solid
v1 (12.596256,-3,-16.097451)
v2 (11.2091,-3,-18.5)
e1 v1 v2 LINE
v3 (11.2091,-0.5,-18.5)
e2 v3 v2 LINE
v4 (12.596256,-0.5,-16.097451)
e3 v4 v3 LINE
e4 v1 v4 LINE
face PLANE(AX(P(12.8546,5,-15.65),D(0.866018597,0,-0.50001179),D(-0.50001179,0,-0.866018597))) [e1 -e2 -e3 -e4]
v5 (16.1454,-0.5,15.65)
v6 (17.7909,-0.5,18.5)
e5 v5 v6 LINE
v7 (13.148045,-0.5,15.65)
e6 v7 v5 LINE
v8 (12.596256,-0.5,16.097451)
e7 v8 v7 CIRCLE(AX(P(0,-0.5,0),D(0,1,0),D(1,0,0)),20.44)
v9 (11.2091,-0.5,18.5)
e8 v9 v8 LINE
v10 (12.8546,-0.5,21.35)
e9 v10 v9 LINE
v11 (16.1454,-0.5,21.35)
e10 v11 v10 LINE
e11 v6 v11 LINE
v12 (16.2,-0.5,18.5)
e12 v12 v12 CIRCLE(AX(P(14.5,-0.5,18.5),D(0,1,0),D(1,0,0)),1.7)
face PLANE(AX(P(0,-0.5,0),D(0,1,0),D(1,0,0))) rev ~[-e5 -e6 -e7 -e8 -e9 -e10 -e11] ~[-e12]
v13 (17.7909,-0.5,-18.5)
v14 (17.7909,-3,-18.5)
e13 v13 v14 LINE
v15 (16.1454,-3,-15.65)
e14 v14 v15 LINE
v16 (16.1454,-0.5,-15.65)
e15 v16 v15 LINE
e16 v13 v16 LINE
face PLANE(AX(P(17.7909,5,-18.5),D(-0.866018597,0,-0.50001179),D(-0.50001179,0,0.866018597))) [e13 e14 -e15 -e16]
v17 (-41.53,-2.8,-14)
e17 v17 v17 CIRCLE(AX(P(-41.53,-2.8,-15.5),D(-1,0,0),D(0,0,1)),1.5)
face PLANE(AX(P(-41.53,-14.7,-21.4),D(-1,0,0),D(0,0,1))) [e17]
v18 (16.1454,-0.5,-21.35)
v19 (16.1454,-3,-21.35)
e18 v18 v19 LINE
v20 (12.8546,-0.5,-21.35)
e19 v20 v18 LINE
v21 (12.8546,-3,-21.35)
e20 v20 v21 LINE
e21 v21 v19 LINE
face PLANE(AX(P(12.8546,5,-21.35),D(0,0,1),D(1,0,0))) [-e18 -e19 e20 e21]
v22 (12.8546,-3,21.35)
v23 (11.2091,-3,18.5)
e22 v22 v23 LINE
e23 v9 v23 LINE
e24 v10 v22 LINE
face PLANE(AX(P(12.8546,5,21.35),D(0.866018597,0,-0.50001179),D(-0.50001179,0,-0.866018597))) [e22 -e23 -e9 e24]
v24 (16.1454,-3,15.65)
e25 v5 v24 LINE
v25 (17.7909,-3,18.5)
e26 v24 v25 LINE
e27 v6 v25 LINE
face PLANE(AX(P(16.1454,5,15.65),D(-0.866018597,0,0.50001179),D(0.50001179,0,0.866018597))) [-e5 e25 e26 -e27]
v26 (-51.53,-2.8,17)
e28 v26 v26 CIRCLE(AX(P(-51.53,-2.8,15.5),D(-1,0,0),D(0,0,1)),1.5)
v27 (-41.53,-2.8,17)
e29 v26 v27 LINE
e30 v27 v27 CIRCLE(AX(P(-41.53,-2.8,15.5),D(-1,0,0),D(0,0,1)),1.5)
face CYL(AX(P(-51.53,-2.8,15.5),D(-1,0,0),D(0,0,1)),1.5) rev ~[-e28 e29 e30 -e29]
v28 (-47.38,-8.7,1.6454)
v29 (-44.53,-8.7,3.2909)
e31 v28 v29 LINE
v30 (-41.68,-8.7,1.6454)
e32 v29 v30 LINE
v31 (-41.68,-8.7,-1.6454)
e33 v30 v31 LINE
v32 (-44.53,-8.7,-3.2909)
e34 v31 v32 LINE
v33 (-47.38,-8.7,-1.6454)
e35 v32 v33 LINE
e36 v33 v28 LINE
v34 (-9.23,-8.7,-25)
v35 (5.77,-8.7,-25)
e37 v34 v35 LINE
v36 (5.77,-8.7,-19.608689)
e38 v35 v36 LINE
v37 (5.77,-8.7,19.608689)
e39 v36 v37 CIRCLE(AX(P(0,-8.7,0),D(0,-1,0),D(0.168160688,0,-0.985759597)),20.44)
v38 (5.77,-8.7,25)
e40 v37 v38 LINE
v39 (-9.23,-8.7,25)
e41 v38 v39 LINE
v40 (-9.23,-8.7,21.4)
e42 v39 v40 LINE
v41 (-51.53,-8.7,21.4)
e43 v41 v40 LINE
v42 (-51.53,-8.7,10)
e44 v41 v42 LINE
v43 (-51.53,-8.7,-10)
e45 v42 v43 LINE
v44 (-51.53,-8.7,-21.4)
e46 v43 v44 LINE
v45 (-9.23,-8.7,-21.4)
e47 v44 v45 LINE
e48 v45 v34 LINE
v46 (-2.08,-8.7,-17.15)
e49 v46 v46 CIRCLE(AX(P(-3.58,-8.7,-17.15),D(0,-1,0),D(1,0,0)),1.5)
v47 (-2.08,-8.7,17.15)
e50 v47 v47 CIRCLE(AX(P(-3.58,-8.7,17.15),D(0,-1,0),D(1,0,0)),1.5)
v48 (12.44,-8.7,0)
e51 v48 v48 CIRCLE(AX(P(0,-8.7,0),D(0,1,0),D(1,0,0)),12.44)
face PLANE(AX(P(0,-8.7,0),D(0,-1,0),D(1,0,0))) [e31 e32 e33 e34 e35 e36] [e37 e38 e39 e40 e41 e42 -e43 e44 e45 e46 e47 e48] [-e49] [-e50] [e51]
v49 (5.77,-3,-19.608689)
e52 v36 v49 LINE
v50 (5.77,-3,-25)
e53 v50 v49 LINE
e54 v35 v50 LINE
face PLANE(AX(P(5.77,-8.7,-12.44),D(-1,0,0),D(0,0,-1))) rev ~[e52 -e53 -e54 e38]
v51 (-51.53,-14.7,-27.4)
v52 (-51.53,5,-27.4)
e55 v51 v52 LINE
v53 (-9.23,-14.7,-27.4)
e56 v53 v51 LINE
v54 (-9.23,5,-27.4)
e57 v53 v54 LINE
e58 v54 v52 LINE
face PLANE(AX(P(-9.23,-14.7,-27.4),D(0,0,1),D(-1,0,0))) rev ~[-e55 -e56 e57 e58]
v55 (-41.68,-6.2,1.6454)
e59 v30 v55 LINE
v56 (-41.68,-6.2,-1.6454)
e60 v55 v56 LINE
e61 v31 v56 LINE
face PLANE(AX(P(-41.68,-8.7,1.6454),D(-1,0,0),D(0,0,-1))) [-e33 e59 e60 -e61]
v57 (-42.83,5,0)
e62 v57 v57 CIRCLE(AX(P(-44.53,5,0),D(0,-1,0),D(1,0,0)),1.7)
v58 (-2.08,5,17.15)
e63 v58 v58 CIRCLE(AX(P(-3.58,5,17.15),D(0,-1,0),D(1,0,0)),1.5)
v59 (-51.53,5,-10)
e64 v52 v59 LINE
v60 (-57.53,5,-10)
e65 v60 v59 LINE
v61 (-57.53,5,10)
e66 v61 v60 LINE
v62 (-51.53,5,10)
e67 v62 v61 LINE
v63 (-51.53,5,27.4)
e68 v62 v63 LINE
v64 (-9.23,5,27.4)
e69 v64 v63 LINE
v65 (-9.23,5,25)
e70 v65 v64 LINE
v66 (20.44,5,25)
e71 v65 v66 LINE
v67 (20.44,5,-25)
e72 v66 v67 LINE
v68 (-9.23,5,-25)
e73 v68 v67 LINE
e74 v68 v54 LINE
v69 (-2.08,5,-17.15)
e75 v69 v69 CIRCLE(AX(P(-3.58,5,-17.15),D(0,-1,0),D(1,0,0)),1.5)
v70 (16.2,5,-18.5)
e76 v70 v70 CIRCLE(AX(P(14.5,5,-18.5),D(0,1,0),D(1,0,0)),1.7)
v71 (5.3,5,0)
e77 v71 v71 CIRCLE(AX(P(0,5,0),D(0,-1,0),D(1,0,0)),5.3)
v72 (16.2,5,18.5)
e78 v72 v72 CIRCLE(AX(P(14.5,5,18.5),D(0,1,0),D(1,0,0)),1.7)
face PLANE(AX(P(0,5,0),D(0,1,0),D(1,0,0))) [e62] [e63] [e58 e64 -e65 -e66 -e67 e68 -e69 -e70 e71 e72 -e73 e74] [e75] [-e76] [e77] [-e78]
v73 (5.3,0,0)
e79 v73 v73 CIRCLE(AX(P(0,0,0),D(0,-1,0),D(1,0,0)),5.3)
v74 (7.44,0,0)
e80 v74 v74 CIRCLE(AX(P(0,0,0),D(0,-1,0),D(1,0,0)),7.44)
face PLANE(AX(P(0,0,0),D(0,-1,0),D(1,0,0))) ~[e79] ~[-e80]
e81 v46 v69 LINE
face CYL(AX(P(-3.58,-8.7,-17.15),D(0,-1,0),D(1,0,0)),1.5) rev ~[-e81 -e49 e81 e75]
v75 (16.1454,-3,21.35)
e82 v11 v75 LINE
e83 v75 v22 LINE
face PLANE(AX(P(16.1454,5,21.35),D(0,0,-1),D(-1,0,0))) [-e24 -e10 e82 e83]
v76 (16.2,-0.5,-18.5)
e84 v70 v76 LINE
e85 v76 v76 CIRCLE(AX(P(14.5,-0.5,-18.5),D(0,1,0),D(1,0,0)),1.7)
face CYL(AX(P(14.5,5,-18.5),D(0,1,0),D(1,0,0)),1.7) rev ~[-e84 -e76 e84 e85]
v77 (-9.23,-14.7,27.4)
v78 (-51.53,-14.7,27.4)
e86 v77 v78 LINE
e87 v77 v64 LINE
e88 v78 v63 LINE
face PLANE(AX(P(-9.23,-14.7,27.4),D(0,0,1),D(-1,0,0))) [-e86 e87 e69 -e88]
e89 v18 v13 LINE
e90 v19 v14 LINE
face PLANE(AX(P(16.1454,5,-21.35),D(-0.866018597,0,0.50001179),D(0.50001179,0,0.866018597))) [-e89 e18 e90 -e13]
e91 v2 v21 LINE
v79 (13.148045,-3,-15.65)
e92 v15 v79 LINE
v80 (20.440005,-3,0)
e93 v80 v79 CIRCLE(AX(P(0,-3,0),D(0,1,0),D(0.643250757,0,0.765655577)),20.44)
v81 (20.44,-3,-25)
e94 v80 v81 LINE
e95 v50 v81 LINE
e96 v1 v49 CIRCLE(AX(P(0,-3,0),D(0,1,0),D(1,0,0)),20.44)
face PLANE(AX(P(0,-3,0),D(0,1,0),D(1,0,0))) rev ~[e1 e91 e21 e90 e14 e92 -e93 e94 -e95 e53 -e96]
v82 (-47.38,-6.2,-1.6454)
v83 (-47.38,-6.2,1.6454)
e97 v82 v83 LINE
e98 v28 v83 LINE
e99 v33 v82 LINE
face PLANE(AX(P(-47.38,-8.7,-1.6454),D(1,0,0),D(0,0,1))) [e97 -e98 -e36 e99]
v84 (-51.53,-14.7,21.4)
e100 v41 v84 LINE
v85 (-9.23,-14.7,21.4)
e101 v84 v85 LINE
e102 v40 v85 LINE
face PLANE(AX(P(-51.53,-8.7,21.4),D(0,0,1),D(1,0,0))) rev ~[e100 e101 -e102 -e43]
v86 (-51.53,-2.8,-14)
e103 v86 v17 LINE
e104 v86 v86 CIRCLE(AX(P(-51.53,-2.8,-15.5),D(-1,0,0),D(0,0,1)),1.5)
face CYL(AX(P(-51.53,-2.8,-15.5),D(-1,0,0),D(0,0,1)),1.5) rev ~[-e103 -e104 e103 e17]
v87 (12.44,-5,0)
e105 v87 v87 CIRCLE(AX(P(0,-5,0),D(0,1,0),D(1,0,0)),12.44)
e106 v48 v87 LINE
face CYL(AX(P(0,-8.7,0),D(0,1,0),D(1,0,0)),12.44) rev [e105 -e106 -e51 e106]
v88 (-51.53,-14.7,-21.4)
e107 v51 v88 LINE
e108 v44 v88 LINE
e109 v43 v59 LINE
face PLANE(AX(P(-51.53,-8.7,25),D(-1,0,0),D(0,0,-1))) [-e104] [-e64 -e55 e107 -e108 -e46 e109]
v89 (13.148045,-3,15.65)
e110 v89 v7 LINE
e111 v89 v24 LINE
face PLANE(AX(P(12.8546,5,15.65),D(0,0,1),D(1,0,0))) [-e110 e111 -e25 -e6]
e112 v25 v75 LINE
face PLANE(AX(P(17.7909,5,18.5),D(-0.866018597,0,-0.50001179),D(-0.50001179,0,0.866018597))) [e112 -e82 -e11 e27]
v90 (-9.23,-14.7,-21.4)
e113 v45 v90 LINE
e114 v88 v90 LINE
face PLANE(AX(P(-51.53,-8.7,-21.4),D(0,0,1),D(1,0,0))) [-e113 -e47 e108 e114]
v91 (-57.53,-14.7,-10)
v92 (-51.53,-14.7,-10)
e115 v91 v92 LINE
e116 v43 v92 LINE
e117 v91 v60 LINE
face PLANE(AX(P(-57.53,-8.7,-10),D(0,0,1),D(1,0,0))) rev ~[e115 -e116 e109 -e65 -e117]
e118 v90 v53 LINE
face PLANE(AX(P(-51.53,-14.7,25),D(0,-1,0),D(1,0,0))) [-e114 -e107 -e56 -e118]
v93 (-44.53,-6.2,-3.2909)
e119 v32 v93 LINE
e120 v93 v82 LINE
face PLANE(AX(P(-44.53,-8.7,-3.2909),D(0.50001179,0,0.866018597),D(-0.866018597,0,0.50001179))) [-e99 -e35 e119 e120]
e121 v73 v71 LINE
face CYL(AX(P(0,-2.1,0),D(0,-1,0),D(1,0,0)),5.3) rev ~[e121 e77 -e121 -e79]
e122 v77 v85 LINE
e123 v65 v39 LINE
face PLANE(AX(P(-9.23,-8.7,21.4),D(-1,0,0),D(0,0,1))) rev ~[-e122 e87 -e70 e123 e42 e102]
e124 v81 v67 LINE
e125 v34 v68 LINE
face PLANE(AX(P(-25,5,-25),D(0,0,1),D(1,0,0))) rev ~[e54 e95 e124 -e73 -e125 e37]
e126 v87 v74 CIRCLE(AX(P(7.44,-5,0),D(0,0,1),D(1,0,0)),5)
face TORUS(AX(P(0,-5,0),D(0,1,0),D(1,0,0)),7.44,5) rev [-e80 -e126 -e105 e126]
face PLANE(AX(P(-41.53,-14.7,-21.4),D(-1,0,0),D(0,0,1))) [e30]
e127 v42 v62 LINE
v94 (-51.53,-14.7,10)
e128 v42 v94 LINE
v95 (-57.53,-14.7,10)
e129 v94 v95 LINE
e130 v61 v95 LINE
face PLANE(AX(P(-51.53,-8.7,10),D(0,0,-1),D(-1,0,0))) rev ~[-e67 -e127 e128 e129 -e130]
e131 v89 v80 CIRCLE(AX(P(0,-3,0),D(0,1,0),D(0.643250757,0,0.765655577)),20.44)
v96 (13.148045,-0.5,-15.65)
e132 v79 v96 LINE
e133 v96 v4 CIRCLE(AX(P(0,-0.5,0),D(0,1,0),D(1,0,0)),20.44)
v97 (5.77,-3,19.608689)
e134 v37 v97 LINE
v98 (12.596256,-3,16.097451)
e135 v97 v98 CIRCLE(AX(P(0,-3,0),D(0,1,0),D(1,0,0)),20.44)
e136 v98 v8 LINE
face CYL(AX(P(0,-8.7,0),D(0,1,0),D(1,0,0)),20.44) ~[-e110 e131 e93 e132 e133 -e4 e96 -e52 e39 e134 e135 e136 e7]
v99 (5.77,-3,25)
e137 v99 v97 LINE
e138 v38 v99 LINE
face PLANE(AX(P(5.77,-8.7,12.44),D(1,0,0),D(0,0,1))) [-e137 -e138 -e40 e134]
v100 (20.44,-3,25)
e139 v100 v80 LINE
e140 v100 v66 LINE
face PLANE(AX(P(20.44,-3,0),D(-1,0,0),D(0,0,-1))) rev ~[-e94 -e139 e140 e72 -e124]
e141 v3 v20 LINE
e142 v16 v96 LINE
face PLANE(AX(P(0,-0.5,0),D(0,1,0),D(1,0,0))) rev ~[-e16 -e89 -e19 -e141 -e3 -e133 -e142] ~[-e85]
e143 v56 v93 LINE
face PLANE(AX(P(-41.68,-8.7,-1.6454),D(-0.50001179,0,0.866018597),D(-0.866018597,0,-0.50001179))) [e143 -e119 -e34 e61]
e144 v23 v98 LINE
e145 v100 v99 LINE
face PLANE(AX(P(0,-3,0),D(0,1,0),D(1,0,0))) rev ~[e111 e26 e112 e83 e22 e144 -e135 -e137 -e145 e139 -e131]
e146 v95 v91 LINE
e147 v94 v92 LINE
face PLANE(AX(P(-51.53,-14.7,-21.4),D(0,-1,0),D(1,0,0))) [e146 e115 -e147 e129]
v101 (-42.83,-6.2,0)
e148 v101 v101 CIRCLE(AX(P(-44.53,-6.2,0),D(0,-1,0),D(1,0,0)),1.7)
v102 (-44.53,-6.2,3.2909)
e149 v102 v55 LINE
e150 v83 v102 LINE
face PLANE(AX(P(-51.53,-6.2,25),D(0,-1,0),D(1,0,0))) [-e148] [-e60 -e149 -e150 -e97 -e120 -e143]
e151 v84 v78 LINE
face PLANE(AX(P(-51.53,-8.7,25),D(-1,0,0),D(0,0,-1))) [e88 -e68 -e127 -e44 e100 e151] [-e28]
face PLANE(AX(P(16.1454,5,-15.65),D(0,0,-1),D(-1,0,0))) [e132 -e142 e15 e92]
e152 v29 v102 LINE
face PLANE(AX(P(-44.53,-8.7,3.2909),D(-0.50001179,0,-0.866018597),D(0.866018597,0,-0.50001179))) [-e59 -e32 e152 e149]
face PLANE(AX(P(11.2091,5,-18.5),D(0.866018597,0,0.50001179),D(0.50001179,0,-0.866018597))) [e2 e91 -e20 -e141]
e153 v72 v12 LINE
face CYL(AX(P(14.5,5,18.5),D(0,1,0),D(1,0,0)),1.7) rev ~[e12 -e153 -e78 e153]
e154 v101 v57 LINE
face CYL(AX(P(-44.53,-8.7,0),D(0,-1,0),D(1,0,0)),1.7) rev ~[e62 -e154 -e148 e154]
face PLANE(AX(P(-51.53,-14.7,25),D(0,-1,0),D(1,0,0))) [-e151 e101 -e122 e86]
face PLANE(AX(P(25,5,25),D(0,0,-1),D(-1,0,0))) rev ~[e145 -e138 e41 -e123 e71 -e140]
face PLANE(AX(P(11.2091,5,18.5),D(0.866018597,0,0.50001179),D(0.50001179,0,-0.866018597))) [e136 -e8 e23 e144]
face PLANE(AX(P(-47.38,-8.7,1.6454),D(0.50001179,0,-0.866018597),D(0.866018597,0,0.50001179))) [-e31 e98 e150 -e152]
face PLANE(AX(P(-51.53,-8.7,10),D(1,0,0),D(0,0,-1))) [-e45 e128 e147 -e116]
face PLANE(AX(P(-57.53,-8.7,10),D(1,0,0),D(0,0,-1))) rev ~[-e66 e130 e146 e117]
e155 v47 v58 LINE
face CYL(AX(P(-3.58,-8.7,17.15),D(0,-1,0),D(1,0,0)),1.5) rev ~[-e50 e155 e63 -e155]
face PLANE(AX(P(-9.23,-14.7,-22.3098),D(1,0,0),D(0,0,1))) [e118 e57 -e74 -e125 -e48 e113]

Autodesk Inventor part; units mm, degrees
ref_plane "YZ Plane" through (0, 0, 0) normal (1, 0, 0) x (0, 1, 0)
ref_plane "XZ Plane" through (0, 0, 0) normal (0, 1, 0) x (-1, 0, 0)
ref_plane "XY Plane" through (0, 0, 0) normal (0, 0, 1) x (1, 0, 0)
sketch "Sketch1" plane through (0, 0, 0) normal (0, 0, 1) x (1, 0, 0)
  line L0 (0, -8.6) -> (12.34, -8.6) construction
  line L1 (0, 0) -> (0, -8.6)
  line L2 (0, 0) -> (0, -2.1)
  line L3 (0, -2.1) -> (5.3, -2.1)
  line L4 (5.3, -2.1) -> (5.3, 0)
  line L5 (5.3, 0) -> (7.44, 0)
  line L6 (12.44, -8.7) -> (12.44, -5)
  arc A0 (12.44, -5) -> (7.44, 0) centre (7.44, -5) ccw
  line L7 (12.44, -8.7) -> (20.44, -8.7)
  line L8 (20.44, -8.7) -> (20.44, 5)
  line L9 (20.44, 5) -> (0, 5)
  line L10 (0, 5) -> (0, -2.1)
  line L11 (-4.088, 0) -> (24.528, 0) projected
  dimension "d2" = 12.34
  dimension "d3" = 8.6
  dimension "d7" = 0
  dimension "d11" = 5.3
  dimension "d12" = 2.1
  dimension "d14" = 5
  dimension "d15" = 8
  dimension "d16" = 13.7
  dimension "d17" = 3.7
  dimension "d18" = 5
revolve "Revolution2" add sketch "Sketch1" angle 360 about axis through (0, 5, 0) along (0, -1, 0)
sketch "Sketch2" plane through (0, 5, 0) normal (0, 1, 0) x (1, 0, 0)
  line L0 (-25, 25) -> (25, 25)
  line L1 (25, 25) -> (25, -25)
  line L2 (25, -25) -> (-25, -25)
  line L3 (-25, -25) -> (-25, 25)
  line L4 (-18.5, 18.5) -> (14.5, 18.5) construction
  line L5 (14.5, 18.5) -> (14.5, -18.5) construction
  line L6 (14.5, -18.5) -> (-18.5, -18.5) construction
  line L7 (-18.5, -18.5) -> (-18.5, 18.5) construction
  circle A0 centre (-18.5, 18.5) radius 1.7
  circle A1 centre (14.5, 18.5) radius 1.7
  circle A2 centre (-18.5, -18.5) radius 1.7
  circle A3 centre (14.5, -18.5) radius 1.7
  line L8 (12.8546, 21.35) -> (16.1454, 21.35)
  line L9 (16.1454, 21.35) -> (17.7909, 18.5)
  line L10 (17.7909, 18.5) -> (16.1454, 15.65)
  line L11 (16.1454, 15.65) -> (12.8546, 15.65)
  line L12 (12.8546, 15.65) -> (11.2091, 18.5)
  line L13 (11.2091, 18.5) -> (12.8546, 21.35)
  line L14 (-17.6058, 15.3329) -> (-20.7956, 16.142)
  line L15 (-20.7956, 16.142) -> (-21.6899, 19.3091)
  line L16 (-21.6899, 19.3091) -> (-19.3942, 21.6671)
  line L17 (-19.3942, 21.6671) -> (-16.2044, 20.858)
  line L18 (-16.2044, 20.858) -> (-15.3101, 17.6909)
  line L19 (-15.3101, 17.6909) -> (-17.6058, 15.3329)
  line L20 (-16.0239, -20.6677) -> (-19.1393, -21.7282)
  line L21 (-19.1393, -21.7282) -> (-21.6153, -19.5605)
  line L22 (-21.6153, -19.5605) -> (-20.9761, -16.3323)
  line L23 (-20.9761, -16.3323) -> (-17.8607, -15.2718)
  line L24 (-17.8607, -15.2718) -> (-15.3847, -17.4395)
  line L25 (-15.3847, -17.4395) -> (-16.0239, -20.6677)
  line L26 (17.7909, -18.5) -> (16.1454, -21.35)
  line L27 (16.1454, -21.35) -> (12.8546, -21.35)
  line L28 (12.8546, -21.35) -> (11.2091, -18.5)
  line L29 (11.2091, -18.5) -> (12.8546, -15.65)
  line L30 (12.8546, -15.65) -> (16.1454, -15.65)
  line L31 (16.1454, -15.65) -> (17.7909, -18.5)
  circle A4 centre (0, 0) radius 12.44 projected
  circle A5 centre (0, 0) radius 12.44 projected
  dimension "d25" = 33
  dimension "d27" = 18.5
  dimension "d28" = 18.5
  dimension "d29" = 37
  dimension "d30" = 3.4
  dimension "d31" = 3.4
  dimension "d32" = 3.4
  dimension "d33" = 3.4
  dimension "d34" = 5.7
  dimension "d36" = 5.7
  dimension "d37" = 5.7
  dimension "d38" = 5.7
  dimension "d39" = 50
  dimension "d40" = 50
  dimension "d41" = 25
  dimension "d42" = 25
extrude "Extrusion1" add sketch "Sketch2" against normal blind 8 contours L0 L1 L2 L3
extrude "Extrusion2" add sketch "Sketch2" against normal blind 5.5 contours L8 L9 L10 L11 L12 L13 | L14 L15 L16 L17 L18 L19 | L20 L21 L22 L23 L24 L25 | L26 L27 L28 L29 L30 L31
sketch "Sketch4" plane through (0, -2.1, 0) normal (0, -1, 0) x (1, 0, 0)
  circle A0 centre (0, 0) radius 5.3 projected
  point P0 (0, 0)
extrude "Extrusion4" cut sketch "Sketch4" against normal blind 19.5
sketch "Sketch5" plane through (0, -8.7, 0) normal (0, -1, 0) x (1, 0, 0)
  circle A0 centre (0, 0) radius 20.44 projected
  circle A1 centre (0, 0) radius 12.44 projected
  line L0 (-25, -25) -> (25, -25) projected
  line L1 (25, -25) -> (25, 25) projected
  line L2 (25, 25) -> (-25, 25) projected
  line L3 (-25, 25) -> (-25, -25) projected
  line L4 (12.8546, -21.35) -> (11.2091, -18.5) projected
  line L5 (11.2091, -18.5) -> (12.5962, -16.0975) projected
  line L6 (16.1454, -15.65) -> (17.7909, -18.5) projected
  line L7 (17.7909, -18.5) -> (16.1454, -21.35) projected
  line L8 (16.1454, -21.35) -> (12.8546, -21.35) projected
  line L9 (-15.3101, -17.6909) -> (-16.2044, -20.858) projected
  line L10 (-16.2044, -20.858) -> (-19.3942, -21.6671) projected
  line L11 (-19.3942, -21.6671) -> (-21.6899, -19.3091) projected
  line L12 (-21.6899, -19.3091) -> (-20.7956, -16.142) projected
  line L13 (-20.7956, -16.142) -> (-17.6058, -15.3329) projected
  line L14 (-16.0239, 20.6677) -> (-15.3847, 17.4395) projected
  line L15 (-17.8607, 15.2718) -> (-20.9761, 16.3323) projected
  line L16 (-20.9761, 16.3323) -> (-21.6153, 19.5605) projected
  line L17 (-21.6153, 19.5605) -> (-19.1393, 21.7282) projected
  line L18 (-19.1393, 21.7282) -> (-16.0239, 20.6677) projected
  line L19 (17.7909, 18.5) -> (16.1454, 15.65) projected
  line L20 (12.5962, 16.0975) -> (11.2091, 18.5) projected
  line L21 (11.2091, 18.5) -> (12.8546, 21.35) projected
  line L22 (12.8546, 21.35) -> (16.1454, 21.35) projected
  line L23 (16.1454, 21.35) -> (17.7909, 18.5) projected
  arc A2 (12.5962, 16.0975) -> (12.5962, -16.0975) centre (0, 0) ccw projected
  line L24 (-25, 25) -> (3.4372, 20.1489)
  line L25 (-25, -25) -> (3.4372, -20.1489)
  circle A3 centre (0, 0) radius 20.44 projected
  arc A4 (3.4372, 20.1489) -> (3.4372, -20.1489) centre (0, 0) ccw
  line L26 (-25, 25) -> (-51.53, 25)
  line L27 (-51.53, 25) -> (-51.53, -25)
  line L28 (-51.53, -25) -> (-25, -25)
  line L29 (-25, -25) -> (-25, 25)
  line L30 (-17.6058, -15.3329) -> (-15.3101, -17.6909) projected
  line L31 (-15.3847, 17.4395) -> (-17.8607, 15.2718) projected
  arc A5 (13.148, -15.65) -> (13.148, 15.65) centre (0, 0) ccw projected
  line L32 (13.148, -15.65) -> (16.1454, -15.65) projected
  line L33 (16.1454, 15.65) -> (13.148, 15.65) projected
  point P0 (0, 0)
  dimension "d52" = 26.53
extrude "Extrusion5" add sketch "Sketch5" against normal blind 13.7 contours A0 L25 L3 L24 | L3 L28 L27 L26 | L9 L10 L11 L12 L13 L30 | L14 L31 L15 L16 L17 L18
sketch "Sketch6" plane through (-51.53, -8.7, 25) normal (0, -1, 0) x (1, 0, 0)
  arc A0 (54.9672, -45.1489) -> (54.9672, -4.8511) centre (51.53, -25) ccw projected
  line L0 (54.9672, -4.8511) -> (26.53, 0) projected
  line L1 (26.53, 0) -> (0, 0) projected
  line L2 (0, 0) -> (0, -50) projected
  line L3 (0, -50) -> (26.53, -50) projected
  line L4 (26.53, -50) -> (54.9672, -45.1489) projected
  circle A1 centre (51.53, -25) radius 12.44 projected
  line L5 (0, -3.6) -> (42.3, -3.6)
  line L6 (0, -46.4) -> (42.3, -46.4)
  line L7 (9.85, -26.6454) -> (7, -28.2909)
  line L8 (7, -28.2909) -> (4.15, -26.6454)
  line L9 (4.15, -26.6454) -> (4.15, -23.3546)
  line L10 (4.15, -23.3546) -> (7, -21.7091)
  line L11 (7, -21.7091) -> (9.85, -23.3546)
  line L12 (9.85, -23.3546) -> (9.85, -26.6454)
  circle A2 centre (7, -25) radius 1.7
  line L13 (42.3, -3.6) -> (42.3, -2.6902)
  line L14 (42.3, -46.4) -> (42.3, -47.3098)
  point P0 (47.6334, -3.6)
  point P1 (47.6334, -46.4)
  dimension "d55" = 3.6
  dimension "d56" = 3.6
  dimension "d57" = 5.7
  dimension "d58" = 7
  dimension "d59" = 50
  dimension "d60" = 25
  dimension "d61" = 3.4
  dimension "d68" = 42.3
extrude "Extrusion6" cut sketch "Sketch6" against normal blind 19.95 contours A2
extrude "Extrusion7" cut sketch "Sketch6" against normal blind 2.5 contours L7 L8 L9 L10 L11 L12
extrude "Extrusion8" add sketch "Sketch6" along normal blind 6 contours L4 L3 L2 L6 L14 | L13 L5 L2 L1 L0
sketch "Sketch7" plane through (0, -8.7, 0) normal (0, -1, 0) x (1, 0, 0)
  line L0 (-9.23, 21.4) -> (-51.53, 21.4) projected
  line L1 (-51.53, 21.4) -> (-51.53, -21.4) projected
  line L2 (-51.53, -21.4) -> (-9.23, -21.4) projected
  line L3 (-9.23, -21.4) -> (-9.23, -22.3098) projected
  line L4 (-9.23, -22.3098) -> (3.4372, -20.1489) projected
  arc A0 (3.4372, -20.1489) -> (3.4372, 20.1489) centre (0, 0) ccw projected
  line L5 (3.4372, 20.1489) -> (-9.23, 22.3098) projected
  line L6 (-9.23, 22.3098) -> (-9.23, 21.4) projected
  line L7 (-41.68, 1.6454) -> (-41.68, -1.6454) projected
  line L8 (-41.68, -1.6454) -> (-44.53, -3.2909) projected
  line L9 (-44.53, -3.2909) -> (-47.38, -1.6454) projected
  line L10 (-47.38, -1.6454) -> (-47.38, 1.6454) projected
  line L11 (-47.38, 1.6454) -> (-44.53, 3.2909) projected
  line L12 (-44.53, 3.2909) -> (-41.68, 1.6454) projected
  circle A1 centre (0, 0) radius 12.44 projected
  line L13 (3.4372, -20.1489) -> (-25, -25) projected
  line L14 (-25, -25) -> (25, -25) projected
  line L15 (25, -25) -> (25, 25) projected
  line L16 (25, 25) -> (-25, 25) projected
  line L17 (-25, 25) -> (3.4372, 20.1489) projected
  arc A2 (3.4372, -20.1489) -> (12.5962, -16.0975) centre (0, 0) ccw projected
  line L18 (12.8546, -21.35) -> (11.2091, -18.5) projected
  line L19 (11.2091, -18.5) -> (12.5962, -16.0975) projected
  line L20 (16.1454, -15.65) -> (17.7909, -18.5) projected
  line L21 (17.7909, -18.5) -> (16.1454, -21.35) projected
  line L22 (16.1454, -21.35) -> (12.8546, -21.35) projected
  line L23 (17.7909, 18.5) -> (16.1454, 15.65) projected
  line L24 (12.5962, 16.0975) -> (11.2091, 18.5) projected
  line L25 (11.2091, 18.5) -> (12.8546, 21.35) projected
  line L26 (12.8546, 21.35) -> (16.1454, 21.35) projected
  line L27 (16.1454, 21.35) -> (17.7909, 18.5) projected
  line L28 (-51.53, -25) -> (25, -25) projected
  line L29 (-9.23, -12.44) -> (5.77, -12.44)
  line L30 (5.77, -12.44) -> (5.77, -25)
  line L31 (5.77, -25) -> (-9.23, -25)
  line L32 (-9.23, -25) -> (-9.23, -12.44)
  line L33 (-9.23, -22.3098) -> (-9.23, -21.4) projected
  line L34 (-9.23, 12.44) -> (5.77, 12.44)
  line L35 (5.77, 12.44) -> (5.77, 25)
  line L36 (5.77, 25) -> (-9.23, 25)
  line L37 (-9.23, 25) -> (-9.23, 12.44)
  line L38 (-9.23, 21.4) -> (-9.23, 22.3098) projected
  circle A3 centre (0, 0) radius 12.44 projected
  line L39 (-9.23, -25) -> (-25, -25)
  line L40 (-25, -25) -> (-9.23, -22.3098)
  line L41 (3.4372, -20.1489) -> (-25, -25) projected
  line L42 (-9.23, -22.3098) -> (-9.23, -25)
  line L43 (-9.23, 22.3098) -> (-9.23, 25)
  line L44 (25, 25) -> (-25, 25) projected
  line L45 (-9.23, 25) -> (-25, 25)
  line L46 (-25, 25) -> (-9.23, 22.3098)
  arc A4 (12.5962, 16.0975) -> (3.4372, 20.1489) centre (0, 0) ccw projected
  line L47 (16.1454, 15.65) -> (13.148, 15.65) projected
  arc A5 (13.148, -15.65) -> (13.148, 15.65) centre (0, 0) ccw projected
  line L48 (13.148, -15.65) -> (16.1454, -15.65) projected
  point P0 (0, 0)
  dimension "d69" = 15
  dimension "d70" = 15
extrude "Extrusion9" add sketch "Sketch7" against normal blind 6 contours L6 L5 A0 L35 L34 L37 | L37 L16 L35 A0 L5 | L17 L16 L37 | L32 L29 L30 A0 L4 L3 | L32 L14 L13 | L4 A0 L30 L14 L32
sketch "Sketch8" plane through (-51.53, -8.7, -21.4) normal (0, -1, 0) x (1, 0, 0)
  line L0 (39.8818, 0.25) -> (21.4052, 0.25) construction
  line L1 (26.53, -3.6) -> (57.3, -3.6) projected
  circle A0 centre (36.65, 5.9) radius 1.5 construction
  line L2 (42.3, -0.9098) -> (42.3, 0) construction
  circle A1 centre (47.95, 4.25) radius 1.5
  line L3 (30.1874, 42.55) -> (42.031, 42.55) construction
  line L4 (57.3, 46.4) -> (26.53, 46.4) projected
  circle A2 centre (36.65, 36.9) radius 1.5 construction
  circle A3 centre (47.95, 38.55) radius 1.5
  line L5 (42.3, 42.8) -> (42.3, 43.7098) construction
  point P0 (51.53, 21.4)
  dimension "d73" = 3.85
  dimension "d74" = 5.65
  dimension "d75" = 5.65
  dimension "d76" = 3
  dimension "d77" = 3
  dimension "d78" = 5.65
  dimension "d79" = 4
  dimension "d80" = 3.85
  dimension "d81" = 3
  dimension "d82" = 3
  dimension "d83" = 5.65
  dimension "d84" = 4
  dimension "d86" = 5.65
  dimension "d87" = 5.65
extrude "Extrusion10" cut sketch "Sketch8" against normal blind 17
sketch "Sketch9" plane through (-51.53, -8.7, -21.4) normal (0, -1, 0) x (1, 0, 0)
  line L0 (0, 42.8) -> (0, 0) projected
  line L1 (0, 31.4) -> (-6, 31.4)
  line L2 (-6, 31.4) -> (-6, 11.4)
  line L3 (-6, 11.4) -> (0, 11.4)
  line L4 (0, 11.4) -> (0, 31.4)
  line L5 (42.3, 42.8) -> (0, 42.8) projected
  line L6 (0, 0) -> (42.3, 0) projected
  point P0 (51.53, 21.4)
  dimension "d94" = 42.8
  dimension "d95" = 20
  dimension "d96" = 11.4
  dimension "d107" = 6
extrude "Extrusion11" add sketch "Sketch9" against normal blind 13.7
extrude "Extrusion12" add sketch "Sketch9" along normal blind 6
sketch "Sketch10" plane through (-51.53, -14.7, 25) normal (0, -1, 0) x (1, 0, 0)
  line L0 (26.53, 0) -> (0, 0) projected
  line L1 (0, 0) -> (0, -3.6) projected
  line L2 (0, -3.6) -> (42.3, -3.6) projected
  line L3 (42.3, -3.6) -> (42.3, -2.6902) projected
  line L4 (42.3, -2.6902) -> (26.53, 0) projected
  line L5 (0, -50) -> (26.53, -50) projected
  line L6 (26.53, -50) -> (42.3, -47.3098) projected
  line L7 (42.3, -47.3098) -> (42.3, -46.4) projected
  line L8 (42.3, -46.4) -> (0, -46.4) projected
  line L9 (0, -46.4) -> (0, -50) projected
  line L10 (0, -3.6) -> (42.3, -3.6)
  line L11 (42.3, -3.6) -> (42.3, 2.4)
  line L12 (42.3, 2.4) -> (0, 2.4)
  line L13 (0, 2.4) -> (0, -3.6)
  line L14 (0, -46.4) -> (42.3, -46.4)
  line L15 (42.3, -46.4) -> (42.3, -52.4)
  line L16 (42.3, -52.4) -> (0, -52.4)
  line L17 (0, -52.4) -> (0, -46.4)
  line L18 (42.3, -3.6) -> (42.3, -2.6902) projected
  point P0 (51.53, -25)
  dimension "d101" = 6
  dimension "d102" = 6
extrude "Extrusion13" add sketch "Sketch10" against normal blind 19.7
sketch "Sketch11" plane through (0, -3, 0) normal (0, -1, 0) x (1, 0, 0)
  line L0 (5.77, -25) -> (25, -25) projected
  line L1 (25, 25) -> (20.44, 25)
  line L2 (20.44, 25) -> (20.44, -25)
  line L3 (20.44, -25) -> (25, -25)
  line L4 (25, -25) -> (25, 25)
  arc A0 (5.77, -19.6087) -> (5.77, 19.6087) centre (0, 0) ccw projected
  point P0 (0, 0)
extrude "Extrusion14" cut sketch "Sketch11" against normal blind 19.7
sketch "Sketch12" plane through (-51.53, -14.7, -21.4) normal (-1, 0, 0) x (0, 0, 1)
  line L0 (11.4, 6) -> (0, 6) projected
  line L1 (11.4, 6) -> (11.4, 19.7) projected
  line L2 (-6, 19.7) -> (11.4, 19.7) projected
  line L3 (-6, 0) -> (-6, 19.7) projected
  line L4 (0, 0) -> (-6, 0) projected
  line L5 (0, 6) -> (0, 0) projected
  line L6 (31.4, 19.7) -> (48.8, 19.7) projected
  line L7 (31.4, 19.7) -> (31.4, 6) projected
  line L8 (42.8, 6) -> (31.4, 6) projected
  line L9 (42.8, 6) -> (42.8, 0) projected
  line L10 (48.8, 0) -> (42.8, 0) projected
  line L11 (48.8, 0) -> (48.8, 19.7) projected
  circle A0 centre (5.9, 11.9) radius 1.5
  circle A1 centre (36.9, 11.9) radius 1.5
  point P0 (21.4, 14.7)
  dimension "d108" = 3
  dimension "d109" = 3
  dimension "d110" = 5.9
  dimension "d111" = 5.9
  dimension "d112" = 5.9
  dimension "d113" = 5.9
extrude "Extrusion15" cut sketch "Sketch12" against normal blind 10 contours A0 | A1
equation "\"d27\" = 0.5 * d29"
equation "\"d28\" = d27"
equation "\"d36\" = d34"
equation "\"d37\" = d34"
equation "\"d38\" = d34"
equation "\"d41\" = 0.5 * d39"
equation "\"d42\" = d41"
equation "\"d60\" = 0.5 * d59"
equation "\"d96\" = -0.5 * d95 + 0.5 * d94"
properties part number "BallBearingCupMountBottom"
